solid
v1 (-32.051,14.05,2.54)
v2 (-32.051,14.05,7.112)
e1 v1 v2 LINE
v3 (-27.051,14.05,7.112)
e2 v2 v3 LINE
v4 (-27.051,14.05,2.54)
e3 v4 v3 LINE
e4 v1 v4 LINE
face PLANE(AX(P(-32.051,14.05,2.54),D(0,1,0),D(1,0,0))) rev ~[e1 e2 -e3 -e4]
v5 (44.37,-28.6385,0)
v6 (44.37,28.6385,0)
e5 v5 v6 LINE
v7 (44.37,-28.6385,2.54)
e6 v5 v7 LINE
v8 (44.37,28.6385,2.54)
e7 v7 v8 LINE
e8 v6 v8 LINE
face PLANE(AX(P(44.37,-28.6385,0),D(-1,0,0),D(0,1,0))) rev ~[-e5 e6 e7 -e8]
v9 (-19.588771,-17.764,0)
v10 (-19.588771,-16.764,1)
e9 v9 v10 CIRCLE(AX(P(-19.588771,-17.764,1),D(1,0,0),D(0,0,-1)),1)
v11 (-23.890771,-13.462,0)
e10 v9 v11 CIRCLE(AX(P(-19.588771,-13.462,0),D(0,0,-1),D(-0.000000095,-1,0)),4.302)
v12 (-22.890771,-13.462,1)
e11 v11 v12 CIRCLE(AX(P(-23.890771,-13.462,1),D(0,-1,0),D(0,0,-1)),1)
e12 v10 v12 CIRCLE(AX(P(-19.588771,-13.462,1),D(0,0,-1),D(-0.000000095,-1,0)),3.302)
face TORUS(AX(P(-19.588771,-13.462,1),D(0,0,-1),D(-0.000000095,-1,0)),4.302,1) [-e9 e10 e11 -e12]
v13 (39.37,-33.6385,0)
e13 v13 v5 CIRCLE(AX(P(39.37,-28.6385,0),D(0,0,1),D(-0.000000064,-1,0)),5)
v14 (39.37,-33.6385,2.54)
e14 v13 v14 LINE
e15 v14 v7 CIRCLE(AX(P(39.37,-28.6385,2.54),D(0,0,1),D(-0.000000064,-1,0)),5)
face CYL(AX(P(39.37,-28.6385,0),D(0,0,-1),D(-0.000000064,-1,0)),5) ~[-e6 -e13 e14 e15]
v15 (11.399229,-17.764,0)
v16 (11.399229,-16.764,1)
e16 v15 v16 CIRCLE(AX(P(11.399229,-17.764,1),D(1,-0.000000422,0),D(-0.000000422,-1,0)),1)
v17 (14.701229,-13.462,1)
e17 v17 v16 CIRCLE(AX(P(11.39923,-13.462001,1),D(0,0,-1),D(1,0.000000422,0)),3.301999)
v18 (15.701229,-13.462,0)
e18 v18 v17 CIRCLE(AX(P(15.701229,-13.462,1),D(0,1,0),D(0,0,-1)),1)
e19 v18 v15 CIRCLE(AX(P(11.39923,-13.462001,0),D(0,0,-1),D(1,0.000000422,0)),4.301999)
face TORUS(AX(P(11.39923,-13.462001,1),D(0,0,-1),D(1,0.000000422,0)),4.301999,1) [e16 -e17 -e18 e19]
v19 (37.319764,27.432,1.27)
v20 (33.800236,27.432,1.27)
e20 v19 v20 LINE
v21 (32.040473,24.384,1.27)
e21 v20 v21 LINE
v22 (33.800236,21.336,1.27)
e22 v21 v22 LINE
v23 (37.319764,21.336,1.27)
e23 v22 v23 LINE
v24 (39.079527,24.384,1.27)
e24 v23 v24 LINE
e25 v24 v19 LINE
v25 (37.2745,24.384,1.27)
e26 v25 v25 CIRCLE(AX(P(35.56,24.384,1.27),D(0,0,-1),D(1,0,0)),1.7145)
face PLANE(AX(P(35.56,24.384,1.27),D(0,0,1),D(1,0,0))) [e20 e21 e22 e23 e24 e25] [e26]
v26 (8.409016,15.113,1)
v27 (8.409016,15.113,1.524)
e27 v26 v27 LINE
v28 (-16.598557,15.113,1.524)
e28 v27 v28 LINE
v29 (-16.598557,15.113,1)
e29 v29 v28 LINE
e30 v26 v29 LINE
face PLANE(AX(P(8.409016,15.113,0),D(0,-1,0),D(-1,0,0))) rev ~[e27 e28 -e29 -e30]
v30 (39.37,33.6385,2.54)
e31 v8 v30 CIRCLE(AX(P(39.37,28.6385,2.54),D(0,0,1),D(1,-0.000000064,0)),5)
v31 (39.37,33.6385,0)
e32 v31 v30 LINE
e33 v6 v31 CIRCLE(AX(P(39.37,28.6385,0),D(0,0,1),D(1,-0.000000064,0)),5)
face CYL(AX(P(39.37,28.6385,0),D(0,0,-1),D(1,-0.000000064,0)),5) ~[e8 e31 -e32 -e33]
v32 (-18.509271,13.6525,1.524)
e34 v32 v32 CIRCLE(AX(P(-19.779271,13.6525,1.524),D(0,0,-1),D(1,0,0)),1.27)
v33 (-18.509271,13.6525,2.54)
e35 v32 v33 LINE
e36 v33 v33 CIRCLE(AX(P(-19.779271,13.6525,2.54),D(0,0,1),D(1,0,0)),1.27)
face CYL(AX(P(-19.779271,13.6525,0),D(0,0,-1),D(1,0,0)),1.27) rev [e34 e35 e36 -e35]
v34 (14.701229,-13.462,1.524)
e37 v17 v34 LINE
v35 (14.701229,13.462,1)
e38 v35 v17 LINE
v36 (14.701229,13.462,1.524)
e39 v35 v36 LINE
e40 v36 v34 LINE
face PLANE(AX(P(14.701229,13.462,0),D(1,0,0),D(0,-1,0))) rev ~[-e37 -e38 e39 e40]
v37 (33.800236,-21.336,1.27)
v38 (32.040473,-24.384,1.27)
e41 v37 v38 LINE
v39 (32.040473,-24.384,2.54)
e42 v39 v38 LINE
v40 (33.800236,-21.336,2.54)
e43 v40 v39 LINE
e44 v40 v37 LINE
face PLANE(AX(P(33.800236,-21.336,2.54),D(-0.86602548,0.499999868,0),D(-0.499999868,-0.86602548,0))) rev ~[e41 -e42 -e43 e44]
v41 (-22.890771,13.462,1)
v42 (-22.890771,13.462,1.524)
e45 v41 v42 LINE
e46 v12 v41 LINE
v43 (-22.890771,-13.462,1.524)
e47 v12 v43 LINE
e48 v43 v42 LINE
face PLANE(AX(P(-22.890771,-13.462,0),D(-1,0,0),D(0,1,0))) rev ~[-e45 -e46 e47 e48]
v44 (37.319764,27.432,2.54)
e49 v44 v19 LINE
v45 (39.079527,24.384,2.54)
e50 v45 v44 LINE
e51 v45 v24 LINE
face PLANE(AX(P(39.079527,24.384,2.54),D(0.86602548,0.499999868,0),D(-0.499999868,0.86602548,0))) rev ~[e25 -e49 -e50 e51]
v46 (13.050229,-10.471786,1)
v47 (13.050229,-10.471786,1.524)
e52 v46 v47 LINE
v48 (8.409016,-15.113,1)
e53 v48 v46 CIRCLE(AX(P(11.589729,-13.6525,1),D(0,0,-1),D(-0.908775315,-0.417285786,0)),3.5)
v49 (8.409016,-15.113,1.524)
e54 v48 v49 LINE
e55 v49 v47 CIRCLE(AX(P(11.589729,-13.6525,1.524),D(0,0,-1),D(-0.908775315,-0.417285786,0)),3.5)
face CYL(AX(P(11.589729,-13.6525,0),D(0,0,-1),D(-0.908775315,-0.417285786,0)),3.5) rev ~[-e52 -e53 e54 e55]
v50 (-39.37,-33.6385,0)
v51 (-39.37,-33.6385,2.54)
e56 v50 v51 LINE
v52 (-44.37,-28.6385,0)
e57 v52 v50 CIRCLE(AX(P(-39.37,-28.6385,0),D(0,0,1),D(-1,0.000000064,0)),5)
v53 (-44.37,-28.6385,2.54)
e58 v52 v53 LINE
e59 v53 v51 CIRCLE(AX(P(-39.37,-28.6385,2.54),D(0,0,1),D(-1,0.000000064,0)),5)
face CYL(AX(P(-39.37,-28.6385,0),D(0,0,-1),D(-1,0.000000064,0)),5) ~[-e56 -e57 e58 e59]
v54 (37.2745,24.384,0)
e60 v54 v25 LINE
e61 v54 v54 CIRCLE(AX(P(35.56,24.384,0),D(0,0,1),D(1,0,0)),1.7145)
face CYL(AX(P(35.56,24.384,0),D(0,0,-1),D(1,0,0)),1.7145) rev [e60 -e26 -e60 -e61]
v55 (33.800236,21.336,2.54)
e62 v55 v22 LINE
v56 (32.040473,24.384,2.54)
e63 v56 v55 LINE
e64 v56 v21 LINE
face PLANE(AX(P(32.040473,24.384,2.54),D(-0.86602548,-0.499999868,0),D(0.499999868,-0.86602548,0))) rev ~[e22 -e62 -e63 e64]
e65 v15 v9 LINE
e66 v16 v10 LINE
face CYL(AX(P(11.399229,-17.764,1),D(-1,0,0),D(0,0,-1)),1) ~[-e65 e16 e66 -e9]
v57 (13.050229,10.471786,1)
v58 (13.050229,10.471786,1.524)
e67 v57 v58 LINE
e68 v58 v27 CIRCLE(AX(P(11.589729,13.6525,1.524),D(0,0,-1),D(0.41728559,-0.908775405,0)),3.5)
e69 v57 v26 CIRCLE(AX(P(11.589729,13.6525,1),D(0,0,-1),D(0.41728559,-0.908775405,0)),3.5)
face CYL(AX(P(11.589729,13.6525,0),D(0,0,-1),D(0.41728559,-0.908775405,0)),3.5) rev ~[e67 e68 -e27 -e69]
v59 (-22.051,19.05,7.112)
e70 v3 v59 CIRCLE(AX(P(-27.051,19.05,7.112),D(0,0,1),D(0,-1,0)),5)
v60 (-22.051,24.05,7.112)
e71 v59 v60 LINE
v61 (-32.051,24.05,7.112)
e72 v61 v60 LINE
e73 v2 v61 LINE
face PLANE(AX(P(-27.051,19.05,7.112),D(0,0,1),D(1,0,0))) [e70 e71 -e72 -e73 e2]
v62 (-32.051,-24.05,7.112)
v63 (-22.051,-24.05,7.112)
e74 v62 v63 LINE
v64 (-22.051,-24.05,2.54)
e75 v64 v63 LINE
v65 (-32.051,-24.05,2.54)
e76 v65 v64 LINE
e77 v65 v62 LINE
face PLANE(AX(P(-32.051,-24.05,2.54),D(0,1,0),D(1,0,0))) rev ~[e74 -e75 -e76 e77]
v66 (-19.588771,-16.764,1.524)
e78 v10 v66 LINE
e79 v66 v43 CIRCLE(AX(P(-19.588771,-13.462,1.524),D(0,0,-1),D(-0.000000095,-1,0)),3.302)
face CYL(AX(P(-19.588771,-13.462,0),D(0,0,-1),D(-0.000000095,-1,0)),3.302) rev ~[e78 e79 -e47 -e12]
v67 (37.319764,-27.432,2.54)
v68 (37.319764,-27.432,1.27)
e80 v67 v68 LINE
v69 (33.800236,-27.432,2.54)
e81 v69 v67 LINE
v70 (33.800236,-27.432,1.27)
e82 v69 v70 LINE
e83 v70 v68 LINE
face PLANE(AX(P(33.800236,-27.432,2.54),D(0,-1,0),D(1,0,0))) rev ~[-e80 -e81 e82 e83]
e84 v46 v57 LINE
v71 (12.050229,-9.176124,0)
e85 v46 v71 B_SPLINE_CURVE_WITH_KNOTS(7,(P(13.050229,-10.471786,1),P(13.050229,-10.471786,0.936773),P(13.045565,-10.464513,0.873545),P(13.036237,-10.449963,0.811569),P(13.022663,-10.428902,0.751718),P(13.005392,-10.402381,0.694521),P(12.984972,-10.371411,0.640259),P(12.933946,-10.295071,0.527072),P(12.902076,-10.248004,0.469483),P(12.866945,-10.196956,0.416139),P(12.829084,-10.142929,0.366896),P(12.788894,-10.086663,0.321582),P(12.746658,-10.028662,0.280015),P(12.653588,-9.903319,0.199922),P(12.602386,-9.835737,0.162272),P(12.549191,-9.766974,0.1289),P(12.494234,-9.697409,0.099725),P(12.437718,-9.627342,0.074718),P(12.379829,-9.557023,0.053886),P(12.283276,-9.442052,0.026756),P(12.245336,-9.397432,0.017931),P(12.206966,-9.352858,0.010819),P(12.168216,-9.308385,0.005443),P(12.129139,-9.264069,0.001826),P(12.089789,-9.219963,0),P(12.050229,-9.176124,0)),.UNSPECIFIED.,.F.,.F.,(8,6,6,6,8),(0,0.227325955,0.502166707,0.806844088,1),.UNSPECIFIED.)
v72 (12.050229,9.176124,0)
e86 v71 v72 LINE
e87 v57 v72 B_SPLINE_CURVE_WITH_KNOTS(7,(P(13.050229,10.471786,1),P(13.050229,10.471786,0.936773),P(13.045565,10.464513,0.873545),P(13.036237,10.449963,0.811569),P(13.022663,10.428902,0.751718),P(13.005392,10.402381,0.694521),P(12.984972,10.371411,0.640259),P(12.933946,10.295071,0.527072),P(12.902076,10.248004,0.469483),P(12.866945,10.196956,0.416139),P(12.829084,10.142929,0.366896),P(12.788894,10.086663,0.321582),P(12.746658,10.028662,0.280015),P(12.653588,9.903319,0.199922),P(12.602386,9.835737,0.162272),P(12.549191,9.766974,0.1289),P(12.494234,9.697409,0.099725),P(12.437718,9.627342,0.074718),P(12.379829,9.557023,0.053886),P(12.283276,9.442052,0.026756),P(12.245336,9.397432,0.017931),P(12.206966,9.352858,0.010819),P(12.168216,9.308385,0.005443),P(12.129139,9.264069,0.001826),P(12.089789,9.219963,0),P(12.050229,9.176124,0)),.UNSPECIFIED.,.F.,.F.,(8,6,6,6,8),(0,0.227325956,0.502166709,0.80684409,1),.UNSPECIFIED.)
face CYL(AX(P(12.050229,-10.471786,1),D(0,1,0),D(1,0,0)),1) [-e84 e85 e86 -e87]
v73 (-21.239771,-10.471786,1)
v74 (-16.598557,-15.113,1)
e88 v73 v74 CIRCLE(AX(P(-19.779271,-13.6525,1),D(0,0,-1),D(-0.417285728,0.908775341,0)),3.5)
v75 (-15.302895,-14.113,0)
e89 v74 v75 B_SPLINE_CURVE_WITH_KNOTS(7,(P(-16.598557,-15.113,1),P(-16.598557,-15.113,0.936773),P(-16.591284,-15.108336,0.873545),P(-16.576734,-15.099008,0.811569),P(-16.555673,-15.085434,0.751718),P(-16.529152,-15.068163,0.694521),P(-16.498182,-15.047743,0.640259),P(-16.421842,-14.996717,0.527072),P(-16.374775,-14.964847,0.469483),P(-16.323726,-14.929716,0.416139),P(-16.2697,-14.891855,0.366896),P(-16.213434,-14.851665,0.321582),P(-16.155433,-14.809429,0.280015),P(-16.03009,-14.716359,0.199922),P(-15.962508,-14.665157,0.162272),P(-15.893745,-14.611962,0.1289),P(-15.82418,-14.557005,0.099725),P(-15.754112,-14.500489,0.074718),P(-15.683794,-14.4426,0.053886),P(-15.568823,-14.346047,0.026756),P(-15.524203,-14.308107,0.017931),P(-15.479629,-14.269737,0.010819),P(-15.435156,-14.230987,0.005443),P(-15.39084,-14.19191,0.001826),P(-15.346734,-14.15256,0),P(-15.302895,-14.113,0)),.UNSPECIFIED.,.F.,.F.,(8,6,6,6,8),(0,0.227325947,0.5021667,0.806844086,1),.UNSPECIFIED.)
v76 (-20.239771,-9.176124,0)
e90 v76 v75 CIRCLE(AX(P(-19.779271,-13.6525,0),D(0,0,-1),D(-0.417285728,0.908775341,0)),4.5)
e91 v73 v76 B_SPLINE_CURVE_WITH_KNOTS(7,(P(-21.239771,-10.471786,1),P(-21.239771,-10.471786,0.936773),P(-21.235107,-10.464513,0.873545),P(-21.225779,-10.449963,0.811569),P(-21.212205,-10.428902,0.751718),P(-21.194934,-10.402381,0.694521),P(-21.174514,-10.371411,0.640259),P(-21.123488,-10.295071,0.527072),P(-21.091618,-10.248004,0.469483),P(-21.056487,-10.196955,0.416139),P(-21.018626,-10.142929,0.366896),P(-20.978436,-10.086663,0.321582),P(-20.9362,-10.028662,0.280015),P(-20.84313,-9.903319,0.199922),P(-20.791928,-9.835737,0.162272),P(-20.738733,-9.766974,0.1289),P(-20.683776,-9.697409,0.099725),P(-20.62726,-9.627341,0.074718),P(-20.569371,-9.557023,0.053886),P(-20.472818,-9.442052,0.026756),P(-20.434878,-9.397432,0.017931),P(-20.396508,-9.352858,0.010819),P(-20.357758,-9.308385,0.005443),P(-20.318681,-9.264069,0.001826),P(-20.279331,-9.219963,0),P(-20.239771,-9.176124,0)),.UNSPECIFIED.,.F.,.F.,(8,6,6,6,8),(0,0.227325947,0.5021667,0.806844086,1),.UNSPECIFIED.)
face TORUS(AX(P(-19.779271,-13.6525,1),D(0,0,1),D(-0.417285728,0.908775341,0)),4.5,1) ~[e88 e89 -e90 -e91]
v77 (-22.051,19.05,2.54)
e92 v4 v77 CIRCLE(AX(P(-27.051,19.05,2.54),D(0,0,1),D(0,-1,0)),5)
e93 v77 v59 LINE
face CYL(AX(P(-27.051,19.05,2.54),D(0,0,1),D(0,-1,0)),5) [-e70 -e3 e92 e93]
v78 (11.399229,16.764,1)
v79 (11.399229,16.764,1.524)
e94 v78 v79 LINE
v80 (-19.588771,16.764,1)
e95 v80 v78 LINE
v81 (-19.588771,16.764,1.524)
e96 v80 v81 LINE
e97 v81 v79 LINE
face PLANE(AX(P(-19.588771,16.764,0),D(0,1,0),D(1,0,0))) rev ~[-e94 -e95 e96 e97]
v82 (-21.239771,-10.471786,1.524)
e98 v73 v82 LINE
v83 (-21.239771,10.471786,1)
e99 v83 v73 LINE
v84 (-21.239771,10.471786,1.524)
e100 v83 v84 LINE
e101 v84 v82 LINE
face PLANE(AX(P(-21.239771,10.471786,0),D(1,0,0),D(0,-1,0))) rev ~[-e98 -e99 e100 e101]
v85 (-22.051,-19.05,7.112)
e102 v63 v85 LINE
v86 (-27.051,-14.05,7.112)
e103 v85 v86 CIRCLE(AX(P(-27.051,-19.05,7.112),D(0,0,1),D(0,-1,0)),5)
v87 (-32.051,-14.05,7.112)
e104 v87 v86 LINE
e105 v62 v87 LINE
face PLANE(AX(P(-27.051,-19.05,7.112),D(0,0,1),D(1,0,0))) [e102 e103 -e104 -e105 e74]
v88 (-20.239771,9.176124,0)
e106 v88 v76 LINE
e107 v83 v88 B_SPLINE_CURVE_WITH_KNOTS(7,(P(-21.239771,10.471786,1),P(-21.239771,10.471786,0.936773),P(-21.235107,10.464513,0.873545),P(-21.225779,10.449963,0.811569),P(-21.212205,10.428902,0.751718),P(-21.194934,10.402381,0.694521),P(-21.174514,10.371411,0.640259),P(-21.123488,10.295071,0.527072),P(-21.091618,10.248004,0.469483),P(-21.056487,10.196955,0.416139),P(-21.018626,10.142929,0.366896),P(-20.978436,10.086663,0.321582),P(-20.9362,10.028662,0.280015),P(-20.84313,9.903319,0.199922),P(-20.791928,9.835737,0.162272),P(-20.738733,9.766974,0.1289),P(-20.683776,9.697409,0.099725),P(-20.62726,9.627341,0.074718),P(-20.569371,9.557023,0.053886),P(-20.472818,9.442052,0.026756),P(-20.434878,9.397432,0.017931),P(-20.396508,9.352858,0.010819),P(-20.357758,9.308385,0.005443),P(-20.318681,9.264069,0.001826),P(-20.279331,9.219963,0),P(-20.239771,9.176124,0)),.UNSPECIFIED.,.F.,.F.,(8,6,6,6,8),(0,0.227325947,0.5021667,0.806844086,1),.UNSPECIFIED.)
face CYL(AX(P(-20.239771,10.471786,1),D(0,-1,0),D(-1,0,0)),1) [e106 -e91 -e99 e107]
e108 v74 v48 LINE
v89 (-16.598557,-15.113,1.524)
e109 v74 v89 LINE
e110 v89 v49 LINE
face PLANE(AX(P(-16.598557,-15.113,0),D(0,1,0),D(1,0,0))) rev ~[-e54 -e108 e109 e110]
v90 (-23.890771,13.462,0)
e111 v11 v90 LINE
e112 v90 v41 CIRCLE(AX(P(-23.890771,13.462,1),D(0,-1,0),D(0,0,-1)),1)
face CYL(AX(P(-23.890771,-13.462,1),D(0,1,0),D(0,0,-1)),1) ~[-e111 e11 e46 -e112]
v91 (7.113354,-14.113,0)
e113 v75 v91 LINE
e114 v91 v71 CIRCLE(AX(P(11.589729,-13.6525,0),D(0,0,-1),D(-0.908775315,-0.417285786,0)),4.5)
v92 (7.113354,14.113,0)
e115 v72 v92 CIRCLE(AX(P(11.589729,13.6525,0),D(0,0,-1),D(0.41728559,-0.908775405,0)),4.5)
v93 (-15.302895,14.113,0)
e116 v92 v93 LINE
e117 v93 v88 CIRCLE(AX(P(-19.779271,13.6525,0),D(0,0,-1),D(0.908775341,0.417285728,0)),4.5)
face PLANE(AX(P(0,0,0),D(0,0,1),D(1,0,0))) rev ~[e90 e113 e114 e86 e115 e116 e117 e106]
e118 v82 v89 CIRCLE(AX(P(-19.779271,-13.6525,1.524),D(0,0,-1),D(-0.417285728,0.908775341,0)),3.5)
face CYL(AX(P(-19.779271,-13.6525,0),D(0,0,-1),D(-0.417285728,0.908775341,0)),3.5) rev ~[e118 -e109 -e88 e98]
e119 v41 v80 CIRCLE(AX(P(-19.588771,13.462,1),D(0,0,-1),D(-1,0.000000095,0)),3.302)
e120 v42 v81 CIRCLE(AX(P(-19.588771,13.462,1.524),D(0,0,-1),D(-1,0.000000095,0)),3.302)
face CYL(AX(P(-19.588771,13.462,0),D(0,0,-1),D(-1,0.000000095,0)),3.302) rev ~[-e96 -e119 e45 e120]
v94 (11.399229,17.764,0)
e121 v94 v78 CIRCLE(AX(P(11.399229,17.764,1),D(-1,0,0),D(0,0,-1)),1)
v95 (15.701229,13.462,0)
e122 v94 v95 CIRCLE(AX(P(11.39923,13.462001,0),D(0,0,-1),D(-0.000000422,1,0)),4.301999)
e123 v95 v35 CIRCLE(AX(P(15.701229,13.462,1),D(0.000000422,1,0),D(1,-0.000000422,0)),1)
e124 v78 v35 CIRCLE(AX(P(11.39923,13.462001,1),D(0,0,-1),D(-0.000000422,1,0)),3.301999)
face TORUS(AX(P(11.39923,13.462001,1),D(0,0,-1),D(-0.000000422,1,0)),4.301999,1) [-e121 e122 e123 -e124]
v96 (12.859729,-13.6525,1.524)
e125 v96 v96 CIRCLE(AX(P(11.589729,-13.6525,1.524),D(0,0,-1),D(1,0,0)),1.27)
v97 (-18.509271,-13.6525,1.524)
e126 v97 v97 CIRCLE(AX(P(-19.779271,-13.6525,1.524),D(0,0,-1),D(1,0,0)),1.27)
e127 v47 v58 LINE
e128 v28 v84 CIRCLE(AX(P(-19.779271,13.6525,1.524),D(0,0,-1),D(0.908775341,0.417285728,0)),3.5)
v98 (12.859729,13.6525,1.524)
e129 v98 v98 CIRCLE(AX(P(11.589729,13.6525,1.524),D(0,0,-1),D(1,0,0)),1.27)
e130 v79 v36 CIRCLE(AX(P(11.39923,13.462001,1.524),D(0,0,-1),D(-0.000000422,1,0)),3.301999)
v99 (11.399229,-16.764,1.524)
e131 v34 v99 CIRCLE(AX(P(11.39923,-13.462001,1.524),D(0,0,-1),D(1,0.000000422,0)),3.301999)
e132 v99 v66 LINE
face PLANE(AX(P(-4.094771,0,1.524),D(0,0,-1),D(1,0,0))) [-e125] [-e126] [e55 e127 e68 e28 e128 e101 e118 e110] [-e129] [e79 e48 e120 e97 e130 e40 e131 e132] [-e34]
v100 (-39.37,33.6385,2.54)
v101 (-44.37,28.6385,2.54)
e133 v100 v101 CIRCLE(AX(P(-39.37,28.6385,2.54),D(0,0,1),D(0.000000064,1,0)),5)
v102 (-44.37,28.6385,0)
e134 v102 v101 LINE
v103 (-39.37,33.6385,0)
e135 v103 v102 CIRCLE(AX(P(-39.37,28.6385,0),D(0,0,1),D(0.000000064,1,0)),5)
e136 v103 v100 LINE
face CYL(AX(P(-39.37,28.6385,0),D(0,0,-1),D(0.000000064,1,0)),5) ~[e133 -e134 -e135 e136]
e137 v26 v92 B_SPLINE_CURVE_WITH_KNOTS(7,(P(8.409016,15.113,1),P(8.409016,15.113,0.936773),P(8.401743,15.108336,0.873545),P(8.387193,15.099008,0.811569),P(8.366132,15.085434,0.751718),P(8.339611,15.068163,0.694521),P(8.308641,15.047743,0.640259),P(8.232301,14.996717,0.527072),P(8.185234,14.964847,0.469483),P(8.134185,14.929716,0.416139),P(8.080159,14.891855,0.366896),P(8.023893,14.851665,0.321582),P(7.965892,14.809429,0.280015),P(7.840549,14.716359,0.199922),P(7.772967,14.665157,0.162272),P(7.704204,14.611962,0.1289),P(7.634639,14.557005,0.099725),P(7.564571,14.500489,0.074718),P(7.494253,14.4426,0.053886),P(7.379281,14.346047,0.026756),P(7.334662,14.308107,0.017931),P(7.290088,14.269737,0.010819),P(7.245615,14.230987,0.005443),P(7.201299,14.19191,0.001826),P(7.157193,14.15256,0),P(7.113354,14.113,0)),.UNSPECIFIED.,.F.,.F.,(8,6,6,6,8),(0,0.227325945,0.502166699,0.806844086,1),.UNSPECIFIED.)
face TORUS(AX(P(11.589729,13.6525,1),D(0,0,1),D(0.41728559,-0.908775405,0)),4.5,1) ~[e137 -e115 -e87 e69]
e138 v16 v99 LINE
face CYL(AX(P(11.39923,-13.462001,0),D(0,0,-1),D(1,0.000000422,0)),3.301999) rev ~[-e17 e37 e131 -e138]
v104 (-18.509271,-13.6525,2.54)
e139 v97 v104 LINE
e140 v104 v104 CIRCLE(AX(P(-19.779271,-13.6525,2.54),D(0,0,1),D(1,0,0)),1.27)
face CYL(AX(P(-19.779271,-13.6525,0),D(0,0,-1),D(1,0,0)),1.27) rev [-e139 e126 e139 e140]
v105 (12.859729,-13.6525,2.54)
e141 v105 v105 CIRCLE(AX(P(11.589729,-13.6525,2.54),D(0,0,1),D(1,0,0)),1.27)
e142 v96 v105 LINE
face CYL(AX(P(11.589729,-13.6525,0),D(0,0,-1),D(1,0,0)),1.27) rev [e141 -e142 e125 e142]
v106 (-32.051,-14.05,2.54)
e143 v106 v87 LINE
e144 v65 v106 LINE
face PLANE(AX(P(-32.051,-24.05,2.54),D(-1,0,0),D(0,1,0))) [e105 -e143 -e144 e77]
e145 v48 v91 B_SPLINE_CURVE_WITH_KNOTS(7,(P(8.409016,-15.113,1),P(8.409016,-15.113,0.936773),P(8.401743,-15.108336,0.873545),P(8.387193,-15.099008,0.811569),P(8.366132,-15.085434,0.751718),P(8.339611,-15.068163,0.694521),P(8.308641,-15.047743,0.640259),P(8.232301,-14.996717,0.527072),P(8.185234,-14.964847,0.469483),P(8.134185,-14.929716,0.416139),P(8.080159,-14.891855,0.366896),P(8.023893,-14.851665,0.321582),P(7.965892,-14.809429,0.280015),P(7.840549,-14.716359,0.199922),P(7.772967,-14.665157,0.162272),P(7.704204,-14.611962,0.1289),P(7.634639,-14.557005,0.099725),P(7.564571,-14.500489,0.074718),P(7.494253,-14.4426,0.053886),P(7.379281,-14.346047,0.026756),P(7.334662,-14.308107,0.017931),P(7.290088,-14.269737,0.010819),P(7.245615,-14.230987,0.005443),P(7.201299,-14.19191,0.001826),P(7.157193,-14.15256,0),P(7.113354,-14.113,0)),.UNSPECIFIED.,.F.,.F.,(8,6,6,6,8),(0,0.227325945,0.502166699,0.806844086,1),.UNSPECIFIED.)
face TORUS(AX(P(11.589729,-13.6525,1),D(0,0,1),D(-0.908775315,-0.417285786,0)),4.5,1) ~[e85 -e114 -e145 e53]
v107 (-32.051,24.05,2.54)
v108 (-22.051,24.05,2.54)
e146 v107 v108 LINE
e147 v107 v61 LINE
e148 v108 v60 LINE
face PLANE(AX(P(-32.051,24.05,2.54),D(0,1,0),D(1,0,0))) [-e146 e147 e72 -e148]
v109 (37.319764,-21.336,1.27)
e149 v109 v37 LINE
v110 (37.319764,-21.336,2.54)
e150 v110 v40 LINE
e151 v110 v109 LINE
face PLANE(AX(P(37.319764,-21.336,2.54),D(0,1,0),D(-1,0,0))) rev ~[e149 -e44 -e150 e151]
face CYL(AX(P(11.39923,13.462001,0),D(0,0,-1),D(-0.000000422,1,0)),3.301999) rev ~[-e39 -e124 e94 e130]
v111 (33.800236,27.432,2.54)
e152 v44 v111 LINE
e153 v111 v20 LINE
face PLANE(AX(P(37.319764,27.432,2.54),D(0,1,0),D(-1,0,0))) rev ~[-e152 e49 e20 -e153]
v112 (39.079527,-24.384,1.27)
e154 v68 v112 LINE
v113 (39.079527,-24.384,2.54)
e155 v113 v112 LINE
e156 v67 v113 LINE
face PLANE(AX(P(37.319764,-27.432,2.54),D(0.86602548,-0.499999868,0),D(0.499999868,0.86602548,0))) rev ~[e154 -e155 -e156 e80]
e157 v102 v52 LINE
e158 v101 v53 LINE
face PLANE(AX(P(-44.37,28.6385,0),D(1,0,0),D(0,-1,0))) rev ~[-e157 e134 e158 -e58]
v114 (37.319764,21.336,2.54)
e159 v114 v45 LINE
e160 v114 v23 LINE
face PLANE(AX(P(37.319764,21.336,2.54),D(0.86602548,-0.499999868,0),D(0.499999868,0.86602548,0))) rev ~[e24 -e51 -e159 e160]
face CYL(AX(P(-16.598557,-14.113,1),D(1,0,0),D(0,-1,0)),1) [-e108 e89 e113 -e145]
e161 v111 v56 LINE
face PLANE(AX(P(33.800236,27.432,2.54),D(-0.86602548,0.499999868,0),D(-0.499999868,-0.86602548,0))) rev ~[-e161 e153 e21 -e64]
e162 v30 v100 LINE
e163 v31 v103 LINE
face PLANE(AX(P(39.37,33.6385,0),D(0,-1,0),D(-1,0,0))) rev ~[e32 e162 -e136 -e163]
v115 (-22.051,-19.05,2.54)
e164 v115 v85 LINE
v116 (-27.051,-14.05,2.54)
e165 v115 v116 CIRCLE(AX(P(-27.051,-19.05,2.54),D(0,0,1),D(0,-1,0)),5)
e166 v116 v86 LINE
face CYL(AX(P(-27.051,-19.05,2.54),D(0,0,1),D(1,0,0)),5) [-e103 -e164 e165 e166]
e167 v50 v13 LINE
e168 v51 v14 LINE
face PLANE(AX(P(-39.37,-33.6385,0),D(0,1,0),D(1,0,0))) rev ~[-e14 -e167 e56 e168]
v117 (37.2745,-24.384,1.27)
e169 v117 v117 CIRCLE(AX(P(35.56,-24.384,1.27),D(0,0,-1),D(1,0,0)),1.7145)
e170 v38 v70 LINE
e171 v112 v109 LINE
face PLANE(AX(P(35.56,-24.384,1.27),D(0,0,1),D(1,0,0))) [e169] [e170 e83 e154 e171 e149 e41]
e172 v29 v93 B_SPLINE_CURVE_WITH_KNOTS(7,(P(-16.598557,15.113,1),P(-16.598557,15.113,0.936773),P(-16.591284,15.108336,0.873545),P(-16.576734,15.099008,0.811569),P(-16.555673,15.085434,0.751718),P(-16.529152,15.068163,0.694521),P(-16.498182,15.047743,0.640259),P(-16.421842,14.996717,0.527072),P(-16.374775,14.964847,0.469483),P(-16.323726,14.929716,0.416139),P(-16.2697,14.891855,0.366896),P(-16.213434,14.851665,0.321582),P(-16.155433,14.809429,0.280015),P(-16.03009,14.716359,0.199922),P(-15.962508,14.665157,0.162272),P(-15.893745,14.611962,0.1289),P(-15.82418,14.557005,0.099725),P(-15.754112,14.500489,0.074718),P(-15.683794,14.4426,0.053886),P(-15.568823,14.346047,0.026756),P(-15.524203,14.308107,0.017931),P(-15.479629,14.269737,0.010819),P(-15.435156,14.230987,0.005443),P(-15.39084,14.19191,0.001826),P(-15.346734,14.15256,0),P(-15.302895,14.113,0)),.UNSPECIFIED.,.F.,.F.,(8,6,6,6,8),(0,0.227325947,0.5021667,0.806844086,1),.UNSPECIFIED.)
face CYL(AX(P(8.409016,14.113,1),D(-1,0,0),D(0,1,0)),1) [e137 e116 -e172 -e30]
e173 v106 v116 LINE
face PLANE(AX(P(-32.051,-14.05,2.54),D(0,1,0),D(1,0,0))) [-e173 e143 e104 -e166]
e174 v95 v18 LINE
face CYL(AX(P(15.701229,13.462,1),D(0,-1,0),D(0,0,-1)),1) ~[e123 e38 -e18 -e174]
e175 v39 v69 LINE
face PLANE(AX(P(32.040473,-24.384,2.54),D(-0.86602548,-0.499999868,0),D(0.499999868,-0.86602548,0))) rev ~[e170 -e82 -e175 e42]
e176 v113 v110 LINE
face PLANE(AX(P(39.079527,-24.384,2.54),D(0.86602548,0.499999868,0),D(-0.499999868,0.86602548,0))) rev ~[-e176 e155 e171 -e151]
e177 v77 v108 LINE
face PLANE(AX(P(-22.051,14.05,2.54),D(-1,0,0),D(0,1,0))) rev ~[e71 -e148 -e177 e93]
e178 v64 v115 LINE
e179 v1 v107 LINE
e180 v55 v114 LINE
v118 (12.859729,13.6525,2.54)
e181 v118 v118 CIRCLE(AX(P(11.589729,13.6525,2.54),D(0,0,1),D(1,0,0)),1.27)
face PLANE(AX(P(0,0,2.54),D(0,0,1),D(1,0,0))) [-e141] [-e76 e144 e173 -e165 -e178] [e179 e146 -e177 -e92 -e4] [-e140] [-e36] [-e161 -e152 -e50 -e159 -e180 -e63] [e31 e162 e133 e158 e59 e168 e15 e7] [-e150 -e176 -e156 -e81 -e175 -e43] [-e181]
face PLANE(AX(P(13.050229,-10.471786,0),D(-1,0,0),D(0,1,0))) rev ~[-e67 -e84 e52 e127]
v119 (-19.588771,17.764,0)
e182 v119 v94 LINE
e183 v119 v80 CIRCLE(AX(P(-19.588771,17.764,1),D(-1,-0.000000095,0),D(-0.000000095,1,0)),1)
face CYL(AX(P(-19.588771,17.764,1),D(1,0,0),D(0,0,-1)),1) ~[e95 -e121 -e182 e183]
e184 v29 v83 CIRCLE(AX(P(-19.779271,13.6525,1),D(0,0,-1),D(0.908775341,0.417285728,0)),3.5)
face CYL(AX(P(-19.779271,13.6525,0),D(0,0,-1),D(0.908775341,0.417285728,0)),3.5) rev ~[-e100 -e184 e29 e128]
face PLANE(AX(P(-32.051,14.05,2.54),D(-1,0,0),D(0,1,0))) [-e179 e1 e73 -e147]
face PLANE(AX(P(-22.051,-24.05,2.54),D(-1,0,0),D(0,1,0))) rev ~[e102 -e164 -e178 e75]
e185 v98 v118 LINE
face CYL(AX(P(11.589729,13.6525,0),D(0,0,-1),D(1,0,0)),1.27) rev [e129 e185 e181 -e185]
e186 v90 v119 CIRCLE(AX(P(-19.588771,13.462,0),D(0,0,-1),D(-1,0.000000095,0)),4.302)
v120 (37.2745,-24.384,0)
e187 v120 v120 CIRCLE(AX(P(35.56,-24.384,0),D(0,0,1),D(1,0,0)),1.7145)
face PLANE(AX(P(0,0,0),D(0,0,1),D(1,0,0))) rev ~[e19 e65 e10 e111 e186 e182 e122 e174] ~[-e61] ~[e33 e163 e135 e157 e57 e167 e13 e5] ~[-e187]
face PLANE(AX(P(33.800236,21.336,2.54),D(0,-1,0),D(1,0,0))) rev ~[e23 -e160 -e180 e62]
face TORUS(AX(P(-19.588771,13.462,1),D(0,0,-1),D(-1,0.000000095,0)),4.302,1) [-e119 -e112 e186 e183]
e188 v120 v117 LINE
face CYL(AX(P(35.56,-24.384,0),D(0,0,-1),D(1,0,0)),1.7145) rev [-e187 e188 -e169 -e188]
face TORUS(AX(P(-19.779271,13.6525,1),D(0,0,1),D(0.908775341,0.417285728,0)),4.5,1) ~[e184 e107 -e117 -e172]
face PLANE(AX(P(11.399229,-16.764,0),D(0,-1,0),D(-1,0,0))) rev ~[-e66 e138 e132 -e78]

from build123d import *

# Parameters (mm, degrees)
F0_R     = 1.27
F0_R_2   = 1.7145
F1_DEPTH = 2.54
F3_DEPTH = 1.524
F4_R     = 1
F6_DEPTH = 1.27
F7_W     = 10
F7_H     = 10
F8_DEPTH = 4.572
F9_R     = 5


with BuildPart() as f1:
    # F0 (on Top) → F1 (new body)
    with BuildSketch(Plane.XY):
        with BuildLine():
            Line((39.37, 33.6385), (-39.37, 33.6385))
            ThreePointArc((-39.37, 33.6385), (-42.905534, 32.174034), (-44.37, 28.6385))
            Line((-44.37, 28.6385), (-44.37, -28.6385))
            ThreePointArc((-44.37, -28.6385), (-42.905534, -32.174034), (-39.37, -33.6385))
            Line((-39.37, -33.6385), (39.37, -33.6385))
            ThreePointArc((39.37, -33.6385), (42.905534, -32.174034), (44.37, -28.6385))
            Line((44.37, -28.6385), (44.37, 28.6385))
            ThreePointArc((44.37, 28.6385), (42.905534, 32.174034), (39.37, 33.6385))
        make_face()
        with Locations((-19.779271, -13.6525)):
            Circle(F0_R, mode=Mode.SUBTRACT)
        Polygon((39.079527, -24.384), (37.319764, -27.432), (33.800236, -27.432), (32.040473, -24.384), (33.800236, -21.336), (37.319764, -21.336), align=None, mode=Mode.SUBTRACT)
        with Locations((11.589729, -13.6525)):
            Circle(F0_R, mode=Mode.SUBTRACT)
        with Locations((-19.779271, 13.6525)):
            Circle(F0_R, mode=Mode.SUBTRACT)
        with Locations((11.589729, 13.6525)):
            Circle(F0_R, mode=Mode.SUBTRACT)
        Polygon((39.079527, 24.384), (37.319764, 21.336), (33.800236, 21.336), (32.040473, 24.384), (33.800236, 27.432), (37.319764, 27.432), align=None, mode=Mode.SUBTRACT)
        Polygon((33.800236, 21.336), (37.319764, 21.336), (39.079527, 24.384), (37.319764, 27.432), (33.800236, 27.432), (32.040473, 24.384), align=None)
        with Locations((35.56, 24.384)):
            Circle(F0_R_2, mode=Mode.SUBTRACT)
        Polygon((33.800236, -27.432), (37.319764, -27.432), (39.079527, -24.384), (37.319764, -21.336), (33.800236, -21.336), (32.040473, -24.384), align=None)
        with Locations((35.56, -24.384)):
            Circle(F0_R_2, mode=Mode.SUBTRACT)
    extrude(amount=F1_DEPTH)

    # F2 (on face) → F3 (cut)
    with BuildSketch(Plane(origin=(0, 0, 0), x_dir=(1, 0, 0), z_dir=(0, 0, -1))):
        with BuildLine():
            Line((11.399229, 16.764), (-19.588771, 16.764))
            ThreePointArc((-19.588771, 16.764), (-21.923637, 15.796867), (-22.890771, 13.462))
            Line((-22.890771, 13.462), (-22.890771, -13.462))
            ThreePointArc((-22.890771, -13.462), (-21.923637, -15.796867), (-19.588771, -16.764))
            Line((-19.588771, -16.764), (11.399229, -16.764))
            ThreePointArc((11.399229, -16.764), (13.734096, -15.796867), (14.701229, -13.462))
            Line((14.701229, -13.462), (14.701229, 13.462))
            ThreePointArc((14.701229, 13.462), (13.734096, 15.796867), (11.399229, 16.764))
        make_face()
        with BuildLine():
            Line((-21.239771, -10.471786), (-21.239771, 10.471786))
            ThreePointArc((-21.239771, 10.471786), (-17.304397, 11.177626), (-16.598557, 15.113))
            Line((-16.598557, 15.113), (8.409016, 15.113))
            ThreePointArc((8.409016, 15.113), (9.114856, 11.177626), (13.050229, 10.471786))
            Line((13.050229, 10.471786), (13.050229, -10.471786))
            ThreePointArc((13.050229, -10.471786), (9.114856, -11.177626), (8.409016, -15.113))
            Line((8.409016, -15.113), (-16.598557, -15.113))
            ThreePointArc((-16.598557, -15.113), (-17.304397, -11.177626), (-21.239771, -10.471786))
        make_face(mode=Mode.SUBTRACT)
    extrude(amount=-F3_DEPTH, mode=Mode.SUBTRACT)

    # F4
    f4_edges = [f1.edges().sort_by_distance(p)[0] for p in [
        (-17.304397, 11.177626, 0),
        (-4.094771, 15.113, 0),
        (9.114856, 11.177626, 0),
        (13.050229, 0, 0),
        (9.114856, -11.177626, 0),
        (-4.094771, -15.113, 0),
        (-17.304397, -11.177626, 0),
        (-21.239771, 0, 0),
        (-22.890771, 0, 0),
        (-21.923637, -15.796867, 0),
    ]]
    fillet(f4_edges, radius=F4_R)

    # F5 (on face) → F6 (cut)
    with BuildSketch(Plane.XY.offset(2.54)):
        Polygon((33.800236, 27.432), (32.040473, 24.384), (33.800236, 21.336), (37.319764, 21.336), (39.079527, 24.384), (37.319764, 27.432), align=None)
        Polygon((33.800236, -21.336), (32.040473, -24.384), (33.800236, -27.432), (37.319764, -27.432), (39.079527, -24.384), (37.319764, -21.336), align=None)
    extrude(amount=-F6_DEPTH, mode=Mode.SUBTRACT)

    # F7 (on face) → F8 (join)
    with BuildSketch(Plane.XY.offset(2.54)):
        with Locations((-27.051, 19.05)):
            Rectangle(F7_W, F7_H)
        with Locations((-27.051, -19.05)):
            Rectangle(F7_W, F7_H)
    extrude(amount=F8_DEPTH)

    # F9
    f9_edges = [f1.edges().sort_by_distance(p)[0] for p in [
        (-22.051, -14.05, 4.826),
        (-22.051, 14.05, 4.826),
    ]]
    fillet(f9_edges, radius=F9_R)


solid = f1.part
